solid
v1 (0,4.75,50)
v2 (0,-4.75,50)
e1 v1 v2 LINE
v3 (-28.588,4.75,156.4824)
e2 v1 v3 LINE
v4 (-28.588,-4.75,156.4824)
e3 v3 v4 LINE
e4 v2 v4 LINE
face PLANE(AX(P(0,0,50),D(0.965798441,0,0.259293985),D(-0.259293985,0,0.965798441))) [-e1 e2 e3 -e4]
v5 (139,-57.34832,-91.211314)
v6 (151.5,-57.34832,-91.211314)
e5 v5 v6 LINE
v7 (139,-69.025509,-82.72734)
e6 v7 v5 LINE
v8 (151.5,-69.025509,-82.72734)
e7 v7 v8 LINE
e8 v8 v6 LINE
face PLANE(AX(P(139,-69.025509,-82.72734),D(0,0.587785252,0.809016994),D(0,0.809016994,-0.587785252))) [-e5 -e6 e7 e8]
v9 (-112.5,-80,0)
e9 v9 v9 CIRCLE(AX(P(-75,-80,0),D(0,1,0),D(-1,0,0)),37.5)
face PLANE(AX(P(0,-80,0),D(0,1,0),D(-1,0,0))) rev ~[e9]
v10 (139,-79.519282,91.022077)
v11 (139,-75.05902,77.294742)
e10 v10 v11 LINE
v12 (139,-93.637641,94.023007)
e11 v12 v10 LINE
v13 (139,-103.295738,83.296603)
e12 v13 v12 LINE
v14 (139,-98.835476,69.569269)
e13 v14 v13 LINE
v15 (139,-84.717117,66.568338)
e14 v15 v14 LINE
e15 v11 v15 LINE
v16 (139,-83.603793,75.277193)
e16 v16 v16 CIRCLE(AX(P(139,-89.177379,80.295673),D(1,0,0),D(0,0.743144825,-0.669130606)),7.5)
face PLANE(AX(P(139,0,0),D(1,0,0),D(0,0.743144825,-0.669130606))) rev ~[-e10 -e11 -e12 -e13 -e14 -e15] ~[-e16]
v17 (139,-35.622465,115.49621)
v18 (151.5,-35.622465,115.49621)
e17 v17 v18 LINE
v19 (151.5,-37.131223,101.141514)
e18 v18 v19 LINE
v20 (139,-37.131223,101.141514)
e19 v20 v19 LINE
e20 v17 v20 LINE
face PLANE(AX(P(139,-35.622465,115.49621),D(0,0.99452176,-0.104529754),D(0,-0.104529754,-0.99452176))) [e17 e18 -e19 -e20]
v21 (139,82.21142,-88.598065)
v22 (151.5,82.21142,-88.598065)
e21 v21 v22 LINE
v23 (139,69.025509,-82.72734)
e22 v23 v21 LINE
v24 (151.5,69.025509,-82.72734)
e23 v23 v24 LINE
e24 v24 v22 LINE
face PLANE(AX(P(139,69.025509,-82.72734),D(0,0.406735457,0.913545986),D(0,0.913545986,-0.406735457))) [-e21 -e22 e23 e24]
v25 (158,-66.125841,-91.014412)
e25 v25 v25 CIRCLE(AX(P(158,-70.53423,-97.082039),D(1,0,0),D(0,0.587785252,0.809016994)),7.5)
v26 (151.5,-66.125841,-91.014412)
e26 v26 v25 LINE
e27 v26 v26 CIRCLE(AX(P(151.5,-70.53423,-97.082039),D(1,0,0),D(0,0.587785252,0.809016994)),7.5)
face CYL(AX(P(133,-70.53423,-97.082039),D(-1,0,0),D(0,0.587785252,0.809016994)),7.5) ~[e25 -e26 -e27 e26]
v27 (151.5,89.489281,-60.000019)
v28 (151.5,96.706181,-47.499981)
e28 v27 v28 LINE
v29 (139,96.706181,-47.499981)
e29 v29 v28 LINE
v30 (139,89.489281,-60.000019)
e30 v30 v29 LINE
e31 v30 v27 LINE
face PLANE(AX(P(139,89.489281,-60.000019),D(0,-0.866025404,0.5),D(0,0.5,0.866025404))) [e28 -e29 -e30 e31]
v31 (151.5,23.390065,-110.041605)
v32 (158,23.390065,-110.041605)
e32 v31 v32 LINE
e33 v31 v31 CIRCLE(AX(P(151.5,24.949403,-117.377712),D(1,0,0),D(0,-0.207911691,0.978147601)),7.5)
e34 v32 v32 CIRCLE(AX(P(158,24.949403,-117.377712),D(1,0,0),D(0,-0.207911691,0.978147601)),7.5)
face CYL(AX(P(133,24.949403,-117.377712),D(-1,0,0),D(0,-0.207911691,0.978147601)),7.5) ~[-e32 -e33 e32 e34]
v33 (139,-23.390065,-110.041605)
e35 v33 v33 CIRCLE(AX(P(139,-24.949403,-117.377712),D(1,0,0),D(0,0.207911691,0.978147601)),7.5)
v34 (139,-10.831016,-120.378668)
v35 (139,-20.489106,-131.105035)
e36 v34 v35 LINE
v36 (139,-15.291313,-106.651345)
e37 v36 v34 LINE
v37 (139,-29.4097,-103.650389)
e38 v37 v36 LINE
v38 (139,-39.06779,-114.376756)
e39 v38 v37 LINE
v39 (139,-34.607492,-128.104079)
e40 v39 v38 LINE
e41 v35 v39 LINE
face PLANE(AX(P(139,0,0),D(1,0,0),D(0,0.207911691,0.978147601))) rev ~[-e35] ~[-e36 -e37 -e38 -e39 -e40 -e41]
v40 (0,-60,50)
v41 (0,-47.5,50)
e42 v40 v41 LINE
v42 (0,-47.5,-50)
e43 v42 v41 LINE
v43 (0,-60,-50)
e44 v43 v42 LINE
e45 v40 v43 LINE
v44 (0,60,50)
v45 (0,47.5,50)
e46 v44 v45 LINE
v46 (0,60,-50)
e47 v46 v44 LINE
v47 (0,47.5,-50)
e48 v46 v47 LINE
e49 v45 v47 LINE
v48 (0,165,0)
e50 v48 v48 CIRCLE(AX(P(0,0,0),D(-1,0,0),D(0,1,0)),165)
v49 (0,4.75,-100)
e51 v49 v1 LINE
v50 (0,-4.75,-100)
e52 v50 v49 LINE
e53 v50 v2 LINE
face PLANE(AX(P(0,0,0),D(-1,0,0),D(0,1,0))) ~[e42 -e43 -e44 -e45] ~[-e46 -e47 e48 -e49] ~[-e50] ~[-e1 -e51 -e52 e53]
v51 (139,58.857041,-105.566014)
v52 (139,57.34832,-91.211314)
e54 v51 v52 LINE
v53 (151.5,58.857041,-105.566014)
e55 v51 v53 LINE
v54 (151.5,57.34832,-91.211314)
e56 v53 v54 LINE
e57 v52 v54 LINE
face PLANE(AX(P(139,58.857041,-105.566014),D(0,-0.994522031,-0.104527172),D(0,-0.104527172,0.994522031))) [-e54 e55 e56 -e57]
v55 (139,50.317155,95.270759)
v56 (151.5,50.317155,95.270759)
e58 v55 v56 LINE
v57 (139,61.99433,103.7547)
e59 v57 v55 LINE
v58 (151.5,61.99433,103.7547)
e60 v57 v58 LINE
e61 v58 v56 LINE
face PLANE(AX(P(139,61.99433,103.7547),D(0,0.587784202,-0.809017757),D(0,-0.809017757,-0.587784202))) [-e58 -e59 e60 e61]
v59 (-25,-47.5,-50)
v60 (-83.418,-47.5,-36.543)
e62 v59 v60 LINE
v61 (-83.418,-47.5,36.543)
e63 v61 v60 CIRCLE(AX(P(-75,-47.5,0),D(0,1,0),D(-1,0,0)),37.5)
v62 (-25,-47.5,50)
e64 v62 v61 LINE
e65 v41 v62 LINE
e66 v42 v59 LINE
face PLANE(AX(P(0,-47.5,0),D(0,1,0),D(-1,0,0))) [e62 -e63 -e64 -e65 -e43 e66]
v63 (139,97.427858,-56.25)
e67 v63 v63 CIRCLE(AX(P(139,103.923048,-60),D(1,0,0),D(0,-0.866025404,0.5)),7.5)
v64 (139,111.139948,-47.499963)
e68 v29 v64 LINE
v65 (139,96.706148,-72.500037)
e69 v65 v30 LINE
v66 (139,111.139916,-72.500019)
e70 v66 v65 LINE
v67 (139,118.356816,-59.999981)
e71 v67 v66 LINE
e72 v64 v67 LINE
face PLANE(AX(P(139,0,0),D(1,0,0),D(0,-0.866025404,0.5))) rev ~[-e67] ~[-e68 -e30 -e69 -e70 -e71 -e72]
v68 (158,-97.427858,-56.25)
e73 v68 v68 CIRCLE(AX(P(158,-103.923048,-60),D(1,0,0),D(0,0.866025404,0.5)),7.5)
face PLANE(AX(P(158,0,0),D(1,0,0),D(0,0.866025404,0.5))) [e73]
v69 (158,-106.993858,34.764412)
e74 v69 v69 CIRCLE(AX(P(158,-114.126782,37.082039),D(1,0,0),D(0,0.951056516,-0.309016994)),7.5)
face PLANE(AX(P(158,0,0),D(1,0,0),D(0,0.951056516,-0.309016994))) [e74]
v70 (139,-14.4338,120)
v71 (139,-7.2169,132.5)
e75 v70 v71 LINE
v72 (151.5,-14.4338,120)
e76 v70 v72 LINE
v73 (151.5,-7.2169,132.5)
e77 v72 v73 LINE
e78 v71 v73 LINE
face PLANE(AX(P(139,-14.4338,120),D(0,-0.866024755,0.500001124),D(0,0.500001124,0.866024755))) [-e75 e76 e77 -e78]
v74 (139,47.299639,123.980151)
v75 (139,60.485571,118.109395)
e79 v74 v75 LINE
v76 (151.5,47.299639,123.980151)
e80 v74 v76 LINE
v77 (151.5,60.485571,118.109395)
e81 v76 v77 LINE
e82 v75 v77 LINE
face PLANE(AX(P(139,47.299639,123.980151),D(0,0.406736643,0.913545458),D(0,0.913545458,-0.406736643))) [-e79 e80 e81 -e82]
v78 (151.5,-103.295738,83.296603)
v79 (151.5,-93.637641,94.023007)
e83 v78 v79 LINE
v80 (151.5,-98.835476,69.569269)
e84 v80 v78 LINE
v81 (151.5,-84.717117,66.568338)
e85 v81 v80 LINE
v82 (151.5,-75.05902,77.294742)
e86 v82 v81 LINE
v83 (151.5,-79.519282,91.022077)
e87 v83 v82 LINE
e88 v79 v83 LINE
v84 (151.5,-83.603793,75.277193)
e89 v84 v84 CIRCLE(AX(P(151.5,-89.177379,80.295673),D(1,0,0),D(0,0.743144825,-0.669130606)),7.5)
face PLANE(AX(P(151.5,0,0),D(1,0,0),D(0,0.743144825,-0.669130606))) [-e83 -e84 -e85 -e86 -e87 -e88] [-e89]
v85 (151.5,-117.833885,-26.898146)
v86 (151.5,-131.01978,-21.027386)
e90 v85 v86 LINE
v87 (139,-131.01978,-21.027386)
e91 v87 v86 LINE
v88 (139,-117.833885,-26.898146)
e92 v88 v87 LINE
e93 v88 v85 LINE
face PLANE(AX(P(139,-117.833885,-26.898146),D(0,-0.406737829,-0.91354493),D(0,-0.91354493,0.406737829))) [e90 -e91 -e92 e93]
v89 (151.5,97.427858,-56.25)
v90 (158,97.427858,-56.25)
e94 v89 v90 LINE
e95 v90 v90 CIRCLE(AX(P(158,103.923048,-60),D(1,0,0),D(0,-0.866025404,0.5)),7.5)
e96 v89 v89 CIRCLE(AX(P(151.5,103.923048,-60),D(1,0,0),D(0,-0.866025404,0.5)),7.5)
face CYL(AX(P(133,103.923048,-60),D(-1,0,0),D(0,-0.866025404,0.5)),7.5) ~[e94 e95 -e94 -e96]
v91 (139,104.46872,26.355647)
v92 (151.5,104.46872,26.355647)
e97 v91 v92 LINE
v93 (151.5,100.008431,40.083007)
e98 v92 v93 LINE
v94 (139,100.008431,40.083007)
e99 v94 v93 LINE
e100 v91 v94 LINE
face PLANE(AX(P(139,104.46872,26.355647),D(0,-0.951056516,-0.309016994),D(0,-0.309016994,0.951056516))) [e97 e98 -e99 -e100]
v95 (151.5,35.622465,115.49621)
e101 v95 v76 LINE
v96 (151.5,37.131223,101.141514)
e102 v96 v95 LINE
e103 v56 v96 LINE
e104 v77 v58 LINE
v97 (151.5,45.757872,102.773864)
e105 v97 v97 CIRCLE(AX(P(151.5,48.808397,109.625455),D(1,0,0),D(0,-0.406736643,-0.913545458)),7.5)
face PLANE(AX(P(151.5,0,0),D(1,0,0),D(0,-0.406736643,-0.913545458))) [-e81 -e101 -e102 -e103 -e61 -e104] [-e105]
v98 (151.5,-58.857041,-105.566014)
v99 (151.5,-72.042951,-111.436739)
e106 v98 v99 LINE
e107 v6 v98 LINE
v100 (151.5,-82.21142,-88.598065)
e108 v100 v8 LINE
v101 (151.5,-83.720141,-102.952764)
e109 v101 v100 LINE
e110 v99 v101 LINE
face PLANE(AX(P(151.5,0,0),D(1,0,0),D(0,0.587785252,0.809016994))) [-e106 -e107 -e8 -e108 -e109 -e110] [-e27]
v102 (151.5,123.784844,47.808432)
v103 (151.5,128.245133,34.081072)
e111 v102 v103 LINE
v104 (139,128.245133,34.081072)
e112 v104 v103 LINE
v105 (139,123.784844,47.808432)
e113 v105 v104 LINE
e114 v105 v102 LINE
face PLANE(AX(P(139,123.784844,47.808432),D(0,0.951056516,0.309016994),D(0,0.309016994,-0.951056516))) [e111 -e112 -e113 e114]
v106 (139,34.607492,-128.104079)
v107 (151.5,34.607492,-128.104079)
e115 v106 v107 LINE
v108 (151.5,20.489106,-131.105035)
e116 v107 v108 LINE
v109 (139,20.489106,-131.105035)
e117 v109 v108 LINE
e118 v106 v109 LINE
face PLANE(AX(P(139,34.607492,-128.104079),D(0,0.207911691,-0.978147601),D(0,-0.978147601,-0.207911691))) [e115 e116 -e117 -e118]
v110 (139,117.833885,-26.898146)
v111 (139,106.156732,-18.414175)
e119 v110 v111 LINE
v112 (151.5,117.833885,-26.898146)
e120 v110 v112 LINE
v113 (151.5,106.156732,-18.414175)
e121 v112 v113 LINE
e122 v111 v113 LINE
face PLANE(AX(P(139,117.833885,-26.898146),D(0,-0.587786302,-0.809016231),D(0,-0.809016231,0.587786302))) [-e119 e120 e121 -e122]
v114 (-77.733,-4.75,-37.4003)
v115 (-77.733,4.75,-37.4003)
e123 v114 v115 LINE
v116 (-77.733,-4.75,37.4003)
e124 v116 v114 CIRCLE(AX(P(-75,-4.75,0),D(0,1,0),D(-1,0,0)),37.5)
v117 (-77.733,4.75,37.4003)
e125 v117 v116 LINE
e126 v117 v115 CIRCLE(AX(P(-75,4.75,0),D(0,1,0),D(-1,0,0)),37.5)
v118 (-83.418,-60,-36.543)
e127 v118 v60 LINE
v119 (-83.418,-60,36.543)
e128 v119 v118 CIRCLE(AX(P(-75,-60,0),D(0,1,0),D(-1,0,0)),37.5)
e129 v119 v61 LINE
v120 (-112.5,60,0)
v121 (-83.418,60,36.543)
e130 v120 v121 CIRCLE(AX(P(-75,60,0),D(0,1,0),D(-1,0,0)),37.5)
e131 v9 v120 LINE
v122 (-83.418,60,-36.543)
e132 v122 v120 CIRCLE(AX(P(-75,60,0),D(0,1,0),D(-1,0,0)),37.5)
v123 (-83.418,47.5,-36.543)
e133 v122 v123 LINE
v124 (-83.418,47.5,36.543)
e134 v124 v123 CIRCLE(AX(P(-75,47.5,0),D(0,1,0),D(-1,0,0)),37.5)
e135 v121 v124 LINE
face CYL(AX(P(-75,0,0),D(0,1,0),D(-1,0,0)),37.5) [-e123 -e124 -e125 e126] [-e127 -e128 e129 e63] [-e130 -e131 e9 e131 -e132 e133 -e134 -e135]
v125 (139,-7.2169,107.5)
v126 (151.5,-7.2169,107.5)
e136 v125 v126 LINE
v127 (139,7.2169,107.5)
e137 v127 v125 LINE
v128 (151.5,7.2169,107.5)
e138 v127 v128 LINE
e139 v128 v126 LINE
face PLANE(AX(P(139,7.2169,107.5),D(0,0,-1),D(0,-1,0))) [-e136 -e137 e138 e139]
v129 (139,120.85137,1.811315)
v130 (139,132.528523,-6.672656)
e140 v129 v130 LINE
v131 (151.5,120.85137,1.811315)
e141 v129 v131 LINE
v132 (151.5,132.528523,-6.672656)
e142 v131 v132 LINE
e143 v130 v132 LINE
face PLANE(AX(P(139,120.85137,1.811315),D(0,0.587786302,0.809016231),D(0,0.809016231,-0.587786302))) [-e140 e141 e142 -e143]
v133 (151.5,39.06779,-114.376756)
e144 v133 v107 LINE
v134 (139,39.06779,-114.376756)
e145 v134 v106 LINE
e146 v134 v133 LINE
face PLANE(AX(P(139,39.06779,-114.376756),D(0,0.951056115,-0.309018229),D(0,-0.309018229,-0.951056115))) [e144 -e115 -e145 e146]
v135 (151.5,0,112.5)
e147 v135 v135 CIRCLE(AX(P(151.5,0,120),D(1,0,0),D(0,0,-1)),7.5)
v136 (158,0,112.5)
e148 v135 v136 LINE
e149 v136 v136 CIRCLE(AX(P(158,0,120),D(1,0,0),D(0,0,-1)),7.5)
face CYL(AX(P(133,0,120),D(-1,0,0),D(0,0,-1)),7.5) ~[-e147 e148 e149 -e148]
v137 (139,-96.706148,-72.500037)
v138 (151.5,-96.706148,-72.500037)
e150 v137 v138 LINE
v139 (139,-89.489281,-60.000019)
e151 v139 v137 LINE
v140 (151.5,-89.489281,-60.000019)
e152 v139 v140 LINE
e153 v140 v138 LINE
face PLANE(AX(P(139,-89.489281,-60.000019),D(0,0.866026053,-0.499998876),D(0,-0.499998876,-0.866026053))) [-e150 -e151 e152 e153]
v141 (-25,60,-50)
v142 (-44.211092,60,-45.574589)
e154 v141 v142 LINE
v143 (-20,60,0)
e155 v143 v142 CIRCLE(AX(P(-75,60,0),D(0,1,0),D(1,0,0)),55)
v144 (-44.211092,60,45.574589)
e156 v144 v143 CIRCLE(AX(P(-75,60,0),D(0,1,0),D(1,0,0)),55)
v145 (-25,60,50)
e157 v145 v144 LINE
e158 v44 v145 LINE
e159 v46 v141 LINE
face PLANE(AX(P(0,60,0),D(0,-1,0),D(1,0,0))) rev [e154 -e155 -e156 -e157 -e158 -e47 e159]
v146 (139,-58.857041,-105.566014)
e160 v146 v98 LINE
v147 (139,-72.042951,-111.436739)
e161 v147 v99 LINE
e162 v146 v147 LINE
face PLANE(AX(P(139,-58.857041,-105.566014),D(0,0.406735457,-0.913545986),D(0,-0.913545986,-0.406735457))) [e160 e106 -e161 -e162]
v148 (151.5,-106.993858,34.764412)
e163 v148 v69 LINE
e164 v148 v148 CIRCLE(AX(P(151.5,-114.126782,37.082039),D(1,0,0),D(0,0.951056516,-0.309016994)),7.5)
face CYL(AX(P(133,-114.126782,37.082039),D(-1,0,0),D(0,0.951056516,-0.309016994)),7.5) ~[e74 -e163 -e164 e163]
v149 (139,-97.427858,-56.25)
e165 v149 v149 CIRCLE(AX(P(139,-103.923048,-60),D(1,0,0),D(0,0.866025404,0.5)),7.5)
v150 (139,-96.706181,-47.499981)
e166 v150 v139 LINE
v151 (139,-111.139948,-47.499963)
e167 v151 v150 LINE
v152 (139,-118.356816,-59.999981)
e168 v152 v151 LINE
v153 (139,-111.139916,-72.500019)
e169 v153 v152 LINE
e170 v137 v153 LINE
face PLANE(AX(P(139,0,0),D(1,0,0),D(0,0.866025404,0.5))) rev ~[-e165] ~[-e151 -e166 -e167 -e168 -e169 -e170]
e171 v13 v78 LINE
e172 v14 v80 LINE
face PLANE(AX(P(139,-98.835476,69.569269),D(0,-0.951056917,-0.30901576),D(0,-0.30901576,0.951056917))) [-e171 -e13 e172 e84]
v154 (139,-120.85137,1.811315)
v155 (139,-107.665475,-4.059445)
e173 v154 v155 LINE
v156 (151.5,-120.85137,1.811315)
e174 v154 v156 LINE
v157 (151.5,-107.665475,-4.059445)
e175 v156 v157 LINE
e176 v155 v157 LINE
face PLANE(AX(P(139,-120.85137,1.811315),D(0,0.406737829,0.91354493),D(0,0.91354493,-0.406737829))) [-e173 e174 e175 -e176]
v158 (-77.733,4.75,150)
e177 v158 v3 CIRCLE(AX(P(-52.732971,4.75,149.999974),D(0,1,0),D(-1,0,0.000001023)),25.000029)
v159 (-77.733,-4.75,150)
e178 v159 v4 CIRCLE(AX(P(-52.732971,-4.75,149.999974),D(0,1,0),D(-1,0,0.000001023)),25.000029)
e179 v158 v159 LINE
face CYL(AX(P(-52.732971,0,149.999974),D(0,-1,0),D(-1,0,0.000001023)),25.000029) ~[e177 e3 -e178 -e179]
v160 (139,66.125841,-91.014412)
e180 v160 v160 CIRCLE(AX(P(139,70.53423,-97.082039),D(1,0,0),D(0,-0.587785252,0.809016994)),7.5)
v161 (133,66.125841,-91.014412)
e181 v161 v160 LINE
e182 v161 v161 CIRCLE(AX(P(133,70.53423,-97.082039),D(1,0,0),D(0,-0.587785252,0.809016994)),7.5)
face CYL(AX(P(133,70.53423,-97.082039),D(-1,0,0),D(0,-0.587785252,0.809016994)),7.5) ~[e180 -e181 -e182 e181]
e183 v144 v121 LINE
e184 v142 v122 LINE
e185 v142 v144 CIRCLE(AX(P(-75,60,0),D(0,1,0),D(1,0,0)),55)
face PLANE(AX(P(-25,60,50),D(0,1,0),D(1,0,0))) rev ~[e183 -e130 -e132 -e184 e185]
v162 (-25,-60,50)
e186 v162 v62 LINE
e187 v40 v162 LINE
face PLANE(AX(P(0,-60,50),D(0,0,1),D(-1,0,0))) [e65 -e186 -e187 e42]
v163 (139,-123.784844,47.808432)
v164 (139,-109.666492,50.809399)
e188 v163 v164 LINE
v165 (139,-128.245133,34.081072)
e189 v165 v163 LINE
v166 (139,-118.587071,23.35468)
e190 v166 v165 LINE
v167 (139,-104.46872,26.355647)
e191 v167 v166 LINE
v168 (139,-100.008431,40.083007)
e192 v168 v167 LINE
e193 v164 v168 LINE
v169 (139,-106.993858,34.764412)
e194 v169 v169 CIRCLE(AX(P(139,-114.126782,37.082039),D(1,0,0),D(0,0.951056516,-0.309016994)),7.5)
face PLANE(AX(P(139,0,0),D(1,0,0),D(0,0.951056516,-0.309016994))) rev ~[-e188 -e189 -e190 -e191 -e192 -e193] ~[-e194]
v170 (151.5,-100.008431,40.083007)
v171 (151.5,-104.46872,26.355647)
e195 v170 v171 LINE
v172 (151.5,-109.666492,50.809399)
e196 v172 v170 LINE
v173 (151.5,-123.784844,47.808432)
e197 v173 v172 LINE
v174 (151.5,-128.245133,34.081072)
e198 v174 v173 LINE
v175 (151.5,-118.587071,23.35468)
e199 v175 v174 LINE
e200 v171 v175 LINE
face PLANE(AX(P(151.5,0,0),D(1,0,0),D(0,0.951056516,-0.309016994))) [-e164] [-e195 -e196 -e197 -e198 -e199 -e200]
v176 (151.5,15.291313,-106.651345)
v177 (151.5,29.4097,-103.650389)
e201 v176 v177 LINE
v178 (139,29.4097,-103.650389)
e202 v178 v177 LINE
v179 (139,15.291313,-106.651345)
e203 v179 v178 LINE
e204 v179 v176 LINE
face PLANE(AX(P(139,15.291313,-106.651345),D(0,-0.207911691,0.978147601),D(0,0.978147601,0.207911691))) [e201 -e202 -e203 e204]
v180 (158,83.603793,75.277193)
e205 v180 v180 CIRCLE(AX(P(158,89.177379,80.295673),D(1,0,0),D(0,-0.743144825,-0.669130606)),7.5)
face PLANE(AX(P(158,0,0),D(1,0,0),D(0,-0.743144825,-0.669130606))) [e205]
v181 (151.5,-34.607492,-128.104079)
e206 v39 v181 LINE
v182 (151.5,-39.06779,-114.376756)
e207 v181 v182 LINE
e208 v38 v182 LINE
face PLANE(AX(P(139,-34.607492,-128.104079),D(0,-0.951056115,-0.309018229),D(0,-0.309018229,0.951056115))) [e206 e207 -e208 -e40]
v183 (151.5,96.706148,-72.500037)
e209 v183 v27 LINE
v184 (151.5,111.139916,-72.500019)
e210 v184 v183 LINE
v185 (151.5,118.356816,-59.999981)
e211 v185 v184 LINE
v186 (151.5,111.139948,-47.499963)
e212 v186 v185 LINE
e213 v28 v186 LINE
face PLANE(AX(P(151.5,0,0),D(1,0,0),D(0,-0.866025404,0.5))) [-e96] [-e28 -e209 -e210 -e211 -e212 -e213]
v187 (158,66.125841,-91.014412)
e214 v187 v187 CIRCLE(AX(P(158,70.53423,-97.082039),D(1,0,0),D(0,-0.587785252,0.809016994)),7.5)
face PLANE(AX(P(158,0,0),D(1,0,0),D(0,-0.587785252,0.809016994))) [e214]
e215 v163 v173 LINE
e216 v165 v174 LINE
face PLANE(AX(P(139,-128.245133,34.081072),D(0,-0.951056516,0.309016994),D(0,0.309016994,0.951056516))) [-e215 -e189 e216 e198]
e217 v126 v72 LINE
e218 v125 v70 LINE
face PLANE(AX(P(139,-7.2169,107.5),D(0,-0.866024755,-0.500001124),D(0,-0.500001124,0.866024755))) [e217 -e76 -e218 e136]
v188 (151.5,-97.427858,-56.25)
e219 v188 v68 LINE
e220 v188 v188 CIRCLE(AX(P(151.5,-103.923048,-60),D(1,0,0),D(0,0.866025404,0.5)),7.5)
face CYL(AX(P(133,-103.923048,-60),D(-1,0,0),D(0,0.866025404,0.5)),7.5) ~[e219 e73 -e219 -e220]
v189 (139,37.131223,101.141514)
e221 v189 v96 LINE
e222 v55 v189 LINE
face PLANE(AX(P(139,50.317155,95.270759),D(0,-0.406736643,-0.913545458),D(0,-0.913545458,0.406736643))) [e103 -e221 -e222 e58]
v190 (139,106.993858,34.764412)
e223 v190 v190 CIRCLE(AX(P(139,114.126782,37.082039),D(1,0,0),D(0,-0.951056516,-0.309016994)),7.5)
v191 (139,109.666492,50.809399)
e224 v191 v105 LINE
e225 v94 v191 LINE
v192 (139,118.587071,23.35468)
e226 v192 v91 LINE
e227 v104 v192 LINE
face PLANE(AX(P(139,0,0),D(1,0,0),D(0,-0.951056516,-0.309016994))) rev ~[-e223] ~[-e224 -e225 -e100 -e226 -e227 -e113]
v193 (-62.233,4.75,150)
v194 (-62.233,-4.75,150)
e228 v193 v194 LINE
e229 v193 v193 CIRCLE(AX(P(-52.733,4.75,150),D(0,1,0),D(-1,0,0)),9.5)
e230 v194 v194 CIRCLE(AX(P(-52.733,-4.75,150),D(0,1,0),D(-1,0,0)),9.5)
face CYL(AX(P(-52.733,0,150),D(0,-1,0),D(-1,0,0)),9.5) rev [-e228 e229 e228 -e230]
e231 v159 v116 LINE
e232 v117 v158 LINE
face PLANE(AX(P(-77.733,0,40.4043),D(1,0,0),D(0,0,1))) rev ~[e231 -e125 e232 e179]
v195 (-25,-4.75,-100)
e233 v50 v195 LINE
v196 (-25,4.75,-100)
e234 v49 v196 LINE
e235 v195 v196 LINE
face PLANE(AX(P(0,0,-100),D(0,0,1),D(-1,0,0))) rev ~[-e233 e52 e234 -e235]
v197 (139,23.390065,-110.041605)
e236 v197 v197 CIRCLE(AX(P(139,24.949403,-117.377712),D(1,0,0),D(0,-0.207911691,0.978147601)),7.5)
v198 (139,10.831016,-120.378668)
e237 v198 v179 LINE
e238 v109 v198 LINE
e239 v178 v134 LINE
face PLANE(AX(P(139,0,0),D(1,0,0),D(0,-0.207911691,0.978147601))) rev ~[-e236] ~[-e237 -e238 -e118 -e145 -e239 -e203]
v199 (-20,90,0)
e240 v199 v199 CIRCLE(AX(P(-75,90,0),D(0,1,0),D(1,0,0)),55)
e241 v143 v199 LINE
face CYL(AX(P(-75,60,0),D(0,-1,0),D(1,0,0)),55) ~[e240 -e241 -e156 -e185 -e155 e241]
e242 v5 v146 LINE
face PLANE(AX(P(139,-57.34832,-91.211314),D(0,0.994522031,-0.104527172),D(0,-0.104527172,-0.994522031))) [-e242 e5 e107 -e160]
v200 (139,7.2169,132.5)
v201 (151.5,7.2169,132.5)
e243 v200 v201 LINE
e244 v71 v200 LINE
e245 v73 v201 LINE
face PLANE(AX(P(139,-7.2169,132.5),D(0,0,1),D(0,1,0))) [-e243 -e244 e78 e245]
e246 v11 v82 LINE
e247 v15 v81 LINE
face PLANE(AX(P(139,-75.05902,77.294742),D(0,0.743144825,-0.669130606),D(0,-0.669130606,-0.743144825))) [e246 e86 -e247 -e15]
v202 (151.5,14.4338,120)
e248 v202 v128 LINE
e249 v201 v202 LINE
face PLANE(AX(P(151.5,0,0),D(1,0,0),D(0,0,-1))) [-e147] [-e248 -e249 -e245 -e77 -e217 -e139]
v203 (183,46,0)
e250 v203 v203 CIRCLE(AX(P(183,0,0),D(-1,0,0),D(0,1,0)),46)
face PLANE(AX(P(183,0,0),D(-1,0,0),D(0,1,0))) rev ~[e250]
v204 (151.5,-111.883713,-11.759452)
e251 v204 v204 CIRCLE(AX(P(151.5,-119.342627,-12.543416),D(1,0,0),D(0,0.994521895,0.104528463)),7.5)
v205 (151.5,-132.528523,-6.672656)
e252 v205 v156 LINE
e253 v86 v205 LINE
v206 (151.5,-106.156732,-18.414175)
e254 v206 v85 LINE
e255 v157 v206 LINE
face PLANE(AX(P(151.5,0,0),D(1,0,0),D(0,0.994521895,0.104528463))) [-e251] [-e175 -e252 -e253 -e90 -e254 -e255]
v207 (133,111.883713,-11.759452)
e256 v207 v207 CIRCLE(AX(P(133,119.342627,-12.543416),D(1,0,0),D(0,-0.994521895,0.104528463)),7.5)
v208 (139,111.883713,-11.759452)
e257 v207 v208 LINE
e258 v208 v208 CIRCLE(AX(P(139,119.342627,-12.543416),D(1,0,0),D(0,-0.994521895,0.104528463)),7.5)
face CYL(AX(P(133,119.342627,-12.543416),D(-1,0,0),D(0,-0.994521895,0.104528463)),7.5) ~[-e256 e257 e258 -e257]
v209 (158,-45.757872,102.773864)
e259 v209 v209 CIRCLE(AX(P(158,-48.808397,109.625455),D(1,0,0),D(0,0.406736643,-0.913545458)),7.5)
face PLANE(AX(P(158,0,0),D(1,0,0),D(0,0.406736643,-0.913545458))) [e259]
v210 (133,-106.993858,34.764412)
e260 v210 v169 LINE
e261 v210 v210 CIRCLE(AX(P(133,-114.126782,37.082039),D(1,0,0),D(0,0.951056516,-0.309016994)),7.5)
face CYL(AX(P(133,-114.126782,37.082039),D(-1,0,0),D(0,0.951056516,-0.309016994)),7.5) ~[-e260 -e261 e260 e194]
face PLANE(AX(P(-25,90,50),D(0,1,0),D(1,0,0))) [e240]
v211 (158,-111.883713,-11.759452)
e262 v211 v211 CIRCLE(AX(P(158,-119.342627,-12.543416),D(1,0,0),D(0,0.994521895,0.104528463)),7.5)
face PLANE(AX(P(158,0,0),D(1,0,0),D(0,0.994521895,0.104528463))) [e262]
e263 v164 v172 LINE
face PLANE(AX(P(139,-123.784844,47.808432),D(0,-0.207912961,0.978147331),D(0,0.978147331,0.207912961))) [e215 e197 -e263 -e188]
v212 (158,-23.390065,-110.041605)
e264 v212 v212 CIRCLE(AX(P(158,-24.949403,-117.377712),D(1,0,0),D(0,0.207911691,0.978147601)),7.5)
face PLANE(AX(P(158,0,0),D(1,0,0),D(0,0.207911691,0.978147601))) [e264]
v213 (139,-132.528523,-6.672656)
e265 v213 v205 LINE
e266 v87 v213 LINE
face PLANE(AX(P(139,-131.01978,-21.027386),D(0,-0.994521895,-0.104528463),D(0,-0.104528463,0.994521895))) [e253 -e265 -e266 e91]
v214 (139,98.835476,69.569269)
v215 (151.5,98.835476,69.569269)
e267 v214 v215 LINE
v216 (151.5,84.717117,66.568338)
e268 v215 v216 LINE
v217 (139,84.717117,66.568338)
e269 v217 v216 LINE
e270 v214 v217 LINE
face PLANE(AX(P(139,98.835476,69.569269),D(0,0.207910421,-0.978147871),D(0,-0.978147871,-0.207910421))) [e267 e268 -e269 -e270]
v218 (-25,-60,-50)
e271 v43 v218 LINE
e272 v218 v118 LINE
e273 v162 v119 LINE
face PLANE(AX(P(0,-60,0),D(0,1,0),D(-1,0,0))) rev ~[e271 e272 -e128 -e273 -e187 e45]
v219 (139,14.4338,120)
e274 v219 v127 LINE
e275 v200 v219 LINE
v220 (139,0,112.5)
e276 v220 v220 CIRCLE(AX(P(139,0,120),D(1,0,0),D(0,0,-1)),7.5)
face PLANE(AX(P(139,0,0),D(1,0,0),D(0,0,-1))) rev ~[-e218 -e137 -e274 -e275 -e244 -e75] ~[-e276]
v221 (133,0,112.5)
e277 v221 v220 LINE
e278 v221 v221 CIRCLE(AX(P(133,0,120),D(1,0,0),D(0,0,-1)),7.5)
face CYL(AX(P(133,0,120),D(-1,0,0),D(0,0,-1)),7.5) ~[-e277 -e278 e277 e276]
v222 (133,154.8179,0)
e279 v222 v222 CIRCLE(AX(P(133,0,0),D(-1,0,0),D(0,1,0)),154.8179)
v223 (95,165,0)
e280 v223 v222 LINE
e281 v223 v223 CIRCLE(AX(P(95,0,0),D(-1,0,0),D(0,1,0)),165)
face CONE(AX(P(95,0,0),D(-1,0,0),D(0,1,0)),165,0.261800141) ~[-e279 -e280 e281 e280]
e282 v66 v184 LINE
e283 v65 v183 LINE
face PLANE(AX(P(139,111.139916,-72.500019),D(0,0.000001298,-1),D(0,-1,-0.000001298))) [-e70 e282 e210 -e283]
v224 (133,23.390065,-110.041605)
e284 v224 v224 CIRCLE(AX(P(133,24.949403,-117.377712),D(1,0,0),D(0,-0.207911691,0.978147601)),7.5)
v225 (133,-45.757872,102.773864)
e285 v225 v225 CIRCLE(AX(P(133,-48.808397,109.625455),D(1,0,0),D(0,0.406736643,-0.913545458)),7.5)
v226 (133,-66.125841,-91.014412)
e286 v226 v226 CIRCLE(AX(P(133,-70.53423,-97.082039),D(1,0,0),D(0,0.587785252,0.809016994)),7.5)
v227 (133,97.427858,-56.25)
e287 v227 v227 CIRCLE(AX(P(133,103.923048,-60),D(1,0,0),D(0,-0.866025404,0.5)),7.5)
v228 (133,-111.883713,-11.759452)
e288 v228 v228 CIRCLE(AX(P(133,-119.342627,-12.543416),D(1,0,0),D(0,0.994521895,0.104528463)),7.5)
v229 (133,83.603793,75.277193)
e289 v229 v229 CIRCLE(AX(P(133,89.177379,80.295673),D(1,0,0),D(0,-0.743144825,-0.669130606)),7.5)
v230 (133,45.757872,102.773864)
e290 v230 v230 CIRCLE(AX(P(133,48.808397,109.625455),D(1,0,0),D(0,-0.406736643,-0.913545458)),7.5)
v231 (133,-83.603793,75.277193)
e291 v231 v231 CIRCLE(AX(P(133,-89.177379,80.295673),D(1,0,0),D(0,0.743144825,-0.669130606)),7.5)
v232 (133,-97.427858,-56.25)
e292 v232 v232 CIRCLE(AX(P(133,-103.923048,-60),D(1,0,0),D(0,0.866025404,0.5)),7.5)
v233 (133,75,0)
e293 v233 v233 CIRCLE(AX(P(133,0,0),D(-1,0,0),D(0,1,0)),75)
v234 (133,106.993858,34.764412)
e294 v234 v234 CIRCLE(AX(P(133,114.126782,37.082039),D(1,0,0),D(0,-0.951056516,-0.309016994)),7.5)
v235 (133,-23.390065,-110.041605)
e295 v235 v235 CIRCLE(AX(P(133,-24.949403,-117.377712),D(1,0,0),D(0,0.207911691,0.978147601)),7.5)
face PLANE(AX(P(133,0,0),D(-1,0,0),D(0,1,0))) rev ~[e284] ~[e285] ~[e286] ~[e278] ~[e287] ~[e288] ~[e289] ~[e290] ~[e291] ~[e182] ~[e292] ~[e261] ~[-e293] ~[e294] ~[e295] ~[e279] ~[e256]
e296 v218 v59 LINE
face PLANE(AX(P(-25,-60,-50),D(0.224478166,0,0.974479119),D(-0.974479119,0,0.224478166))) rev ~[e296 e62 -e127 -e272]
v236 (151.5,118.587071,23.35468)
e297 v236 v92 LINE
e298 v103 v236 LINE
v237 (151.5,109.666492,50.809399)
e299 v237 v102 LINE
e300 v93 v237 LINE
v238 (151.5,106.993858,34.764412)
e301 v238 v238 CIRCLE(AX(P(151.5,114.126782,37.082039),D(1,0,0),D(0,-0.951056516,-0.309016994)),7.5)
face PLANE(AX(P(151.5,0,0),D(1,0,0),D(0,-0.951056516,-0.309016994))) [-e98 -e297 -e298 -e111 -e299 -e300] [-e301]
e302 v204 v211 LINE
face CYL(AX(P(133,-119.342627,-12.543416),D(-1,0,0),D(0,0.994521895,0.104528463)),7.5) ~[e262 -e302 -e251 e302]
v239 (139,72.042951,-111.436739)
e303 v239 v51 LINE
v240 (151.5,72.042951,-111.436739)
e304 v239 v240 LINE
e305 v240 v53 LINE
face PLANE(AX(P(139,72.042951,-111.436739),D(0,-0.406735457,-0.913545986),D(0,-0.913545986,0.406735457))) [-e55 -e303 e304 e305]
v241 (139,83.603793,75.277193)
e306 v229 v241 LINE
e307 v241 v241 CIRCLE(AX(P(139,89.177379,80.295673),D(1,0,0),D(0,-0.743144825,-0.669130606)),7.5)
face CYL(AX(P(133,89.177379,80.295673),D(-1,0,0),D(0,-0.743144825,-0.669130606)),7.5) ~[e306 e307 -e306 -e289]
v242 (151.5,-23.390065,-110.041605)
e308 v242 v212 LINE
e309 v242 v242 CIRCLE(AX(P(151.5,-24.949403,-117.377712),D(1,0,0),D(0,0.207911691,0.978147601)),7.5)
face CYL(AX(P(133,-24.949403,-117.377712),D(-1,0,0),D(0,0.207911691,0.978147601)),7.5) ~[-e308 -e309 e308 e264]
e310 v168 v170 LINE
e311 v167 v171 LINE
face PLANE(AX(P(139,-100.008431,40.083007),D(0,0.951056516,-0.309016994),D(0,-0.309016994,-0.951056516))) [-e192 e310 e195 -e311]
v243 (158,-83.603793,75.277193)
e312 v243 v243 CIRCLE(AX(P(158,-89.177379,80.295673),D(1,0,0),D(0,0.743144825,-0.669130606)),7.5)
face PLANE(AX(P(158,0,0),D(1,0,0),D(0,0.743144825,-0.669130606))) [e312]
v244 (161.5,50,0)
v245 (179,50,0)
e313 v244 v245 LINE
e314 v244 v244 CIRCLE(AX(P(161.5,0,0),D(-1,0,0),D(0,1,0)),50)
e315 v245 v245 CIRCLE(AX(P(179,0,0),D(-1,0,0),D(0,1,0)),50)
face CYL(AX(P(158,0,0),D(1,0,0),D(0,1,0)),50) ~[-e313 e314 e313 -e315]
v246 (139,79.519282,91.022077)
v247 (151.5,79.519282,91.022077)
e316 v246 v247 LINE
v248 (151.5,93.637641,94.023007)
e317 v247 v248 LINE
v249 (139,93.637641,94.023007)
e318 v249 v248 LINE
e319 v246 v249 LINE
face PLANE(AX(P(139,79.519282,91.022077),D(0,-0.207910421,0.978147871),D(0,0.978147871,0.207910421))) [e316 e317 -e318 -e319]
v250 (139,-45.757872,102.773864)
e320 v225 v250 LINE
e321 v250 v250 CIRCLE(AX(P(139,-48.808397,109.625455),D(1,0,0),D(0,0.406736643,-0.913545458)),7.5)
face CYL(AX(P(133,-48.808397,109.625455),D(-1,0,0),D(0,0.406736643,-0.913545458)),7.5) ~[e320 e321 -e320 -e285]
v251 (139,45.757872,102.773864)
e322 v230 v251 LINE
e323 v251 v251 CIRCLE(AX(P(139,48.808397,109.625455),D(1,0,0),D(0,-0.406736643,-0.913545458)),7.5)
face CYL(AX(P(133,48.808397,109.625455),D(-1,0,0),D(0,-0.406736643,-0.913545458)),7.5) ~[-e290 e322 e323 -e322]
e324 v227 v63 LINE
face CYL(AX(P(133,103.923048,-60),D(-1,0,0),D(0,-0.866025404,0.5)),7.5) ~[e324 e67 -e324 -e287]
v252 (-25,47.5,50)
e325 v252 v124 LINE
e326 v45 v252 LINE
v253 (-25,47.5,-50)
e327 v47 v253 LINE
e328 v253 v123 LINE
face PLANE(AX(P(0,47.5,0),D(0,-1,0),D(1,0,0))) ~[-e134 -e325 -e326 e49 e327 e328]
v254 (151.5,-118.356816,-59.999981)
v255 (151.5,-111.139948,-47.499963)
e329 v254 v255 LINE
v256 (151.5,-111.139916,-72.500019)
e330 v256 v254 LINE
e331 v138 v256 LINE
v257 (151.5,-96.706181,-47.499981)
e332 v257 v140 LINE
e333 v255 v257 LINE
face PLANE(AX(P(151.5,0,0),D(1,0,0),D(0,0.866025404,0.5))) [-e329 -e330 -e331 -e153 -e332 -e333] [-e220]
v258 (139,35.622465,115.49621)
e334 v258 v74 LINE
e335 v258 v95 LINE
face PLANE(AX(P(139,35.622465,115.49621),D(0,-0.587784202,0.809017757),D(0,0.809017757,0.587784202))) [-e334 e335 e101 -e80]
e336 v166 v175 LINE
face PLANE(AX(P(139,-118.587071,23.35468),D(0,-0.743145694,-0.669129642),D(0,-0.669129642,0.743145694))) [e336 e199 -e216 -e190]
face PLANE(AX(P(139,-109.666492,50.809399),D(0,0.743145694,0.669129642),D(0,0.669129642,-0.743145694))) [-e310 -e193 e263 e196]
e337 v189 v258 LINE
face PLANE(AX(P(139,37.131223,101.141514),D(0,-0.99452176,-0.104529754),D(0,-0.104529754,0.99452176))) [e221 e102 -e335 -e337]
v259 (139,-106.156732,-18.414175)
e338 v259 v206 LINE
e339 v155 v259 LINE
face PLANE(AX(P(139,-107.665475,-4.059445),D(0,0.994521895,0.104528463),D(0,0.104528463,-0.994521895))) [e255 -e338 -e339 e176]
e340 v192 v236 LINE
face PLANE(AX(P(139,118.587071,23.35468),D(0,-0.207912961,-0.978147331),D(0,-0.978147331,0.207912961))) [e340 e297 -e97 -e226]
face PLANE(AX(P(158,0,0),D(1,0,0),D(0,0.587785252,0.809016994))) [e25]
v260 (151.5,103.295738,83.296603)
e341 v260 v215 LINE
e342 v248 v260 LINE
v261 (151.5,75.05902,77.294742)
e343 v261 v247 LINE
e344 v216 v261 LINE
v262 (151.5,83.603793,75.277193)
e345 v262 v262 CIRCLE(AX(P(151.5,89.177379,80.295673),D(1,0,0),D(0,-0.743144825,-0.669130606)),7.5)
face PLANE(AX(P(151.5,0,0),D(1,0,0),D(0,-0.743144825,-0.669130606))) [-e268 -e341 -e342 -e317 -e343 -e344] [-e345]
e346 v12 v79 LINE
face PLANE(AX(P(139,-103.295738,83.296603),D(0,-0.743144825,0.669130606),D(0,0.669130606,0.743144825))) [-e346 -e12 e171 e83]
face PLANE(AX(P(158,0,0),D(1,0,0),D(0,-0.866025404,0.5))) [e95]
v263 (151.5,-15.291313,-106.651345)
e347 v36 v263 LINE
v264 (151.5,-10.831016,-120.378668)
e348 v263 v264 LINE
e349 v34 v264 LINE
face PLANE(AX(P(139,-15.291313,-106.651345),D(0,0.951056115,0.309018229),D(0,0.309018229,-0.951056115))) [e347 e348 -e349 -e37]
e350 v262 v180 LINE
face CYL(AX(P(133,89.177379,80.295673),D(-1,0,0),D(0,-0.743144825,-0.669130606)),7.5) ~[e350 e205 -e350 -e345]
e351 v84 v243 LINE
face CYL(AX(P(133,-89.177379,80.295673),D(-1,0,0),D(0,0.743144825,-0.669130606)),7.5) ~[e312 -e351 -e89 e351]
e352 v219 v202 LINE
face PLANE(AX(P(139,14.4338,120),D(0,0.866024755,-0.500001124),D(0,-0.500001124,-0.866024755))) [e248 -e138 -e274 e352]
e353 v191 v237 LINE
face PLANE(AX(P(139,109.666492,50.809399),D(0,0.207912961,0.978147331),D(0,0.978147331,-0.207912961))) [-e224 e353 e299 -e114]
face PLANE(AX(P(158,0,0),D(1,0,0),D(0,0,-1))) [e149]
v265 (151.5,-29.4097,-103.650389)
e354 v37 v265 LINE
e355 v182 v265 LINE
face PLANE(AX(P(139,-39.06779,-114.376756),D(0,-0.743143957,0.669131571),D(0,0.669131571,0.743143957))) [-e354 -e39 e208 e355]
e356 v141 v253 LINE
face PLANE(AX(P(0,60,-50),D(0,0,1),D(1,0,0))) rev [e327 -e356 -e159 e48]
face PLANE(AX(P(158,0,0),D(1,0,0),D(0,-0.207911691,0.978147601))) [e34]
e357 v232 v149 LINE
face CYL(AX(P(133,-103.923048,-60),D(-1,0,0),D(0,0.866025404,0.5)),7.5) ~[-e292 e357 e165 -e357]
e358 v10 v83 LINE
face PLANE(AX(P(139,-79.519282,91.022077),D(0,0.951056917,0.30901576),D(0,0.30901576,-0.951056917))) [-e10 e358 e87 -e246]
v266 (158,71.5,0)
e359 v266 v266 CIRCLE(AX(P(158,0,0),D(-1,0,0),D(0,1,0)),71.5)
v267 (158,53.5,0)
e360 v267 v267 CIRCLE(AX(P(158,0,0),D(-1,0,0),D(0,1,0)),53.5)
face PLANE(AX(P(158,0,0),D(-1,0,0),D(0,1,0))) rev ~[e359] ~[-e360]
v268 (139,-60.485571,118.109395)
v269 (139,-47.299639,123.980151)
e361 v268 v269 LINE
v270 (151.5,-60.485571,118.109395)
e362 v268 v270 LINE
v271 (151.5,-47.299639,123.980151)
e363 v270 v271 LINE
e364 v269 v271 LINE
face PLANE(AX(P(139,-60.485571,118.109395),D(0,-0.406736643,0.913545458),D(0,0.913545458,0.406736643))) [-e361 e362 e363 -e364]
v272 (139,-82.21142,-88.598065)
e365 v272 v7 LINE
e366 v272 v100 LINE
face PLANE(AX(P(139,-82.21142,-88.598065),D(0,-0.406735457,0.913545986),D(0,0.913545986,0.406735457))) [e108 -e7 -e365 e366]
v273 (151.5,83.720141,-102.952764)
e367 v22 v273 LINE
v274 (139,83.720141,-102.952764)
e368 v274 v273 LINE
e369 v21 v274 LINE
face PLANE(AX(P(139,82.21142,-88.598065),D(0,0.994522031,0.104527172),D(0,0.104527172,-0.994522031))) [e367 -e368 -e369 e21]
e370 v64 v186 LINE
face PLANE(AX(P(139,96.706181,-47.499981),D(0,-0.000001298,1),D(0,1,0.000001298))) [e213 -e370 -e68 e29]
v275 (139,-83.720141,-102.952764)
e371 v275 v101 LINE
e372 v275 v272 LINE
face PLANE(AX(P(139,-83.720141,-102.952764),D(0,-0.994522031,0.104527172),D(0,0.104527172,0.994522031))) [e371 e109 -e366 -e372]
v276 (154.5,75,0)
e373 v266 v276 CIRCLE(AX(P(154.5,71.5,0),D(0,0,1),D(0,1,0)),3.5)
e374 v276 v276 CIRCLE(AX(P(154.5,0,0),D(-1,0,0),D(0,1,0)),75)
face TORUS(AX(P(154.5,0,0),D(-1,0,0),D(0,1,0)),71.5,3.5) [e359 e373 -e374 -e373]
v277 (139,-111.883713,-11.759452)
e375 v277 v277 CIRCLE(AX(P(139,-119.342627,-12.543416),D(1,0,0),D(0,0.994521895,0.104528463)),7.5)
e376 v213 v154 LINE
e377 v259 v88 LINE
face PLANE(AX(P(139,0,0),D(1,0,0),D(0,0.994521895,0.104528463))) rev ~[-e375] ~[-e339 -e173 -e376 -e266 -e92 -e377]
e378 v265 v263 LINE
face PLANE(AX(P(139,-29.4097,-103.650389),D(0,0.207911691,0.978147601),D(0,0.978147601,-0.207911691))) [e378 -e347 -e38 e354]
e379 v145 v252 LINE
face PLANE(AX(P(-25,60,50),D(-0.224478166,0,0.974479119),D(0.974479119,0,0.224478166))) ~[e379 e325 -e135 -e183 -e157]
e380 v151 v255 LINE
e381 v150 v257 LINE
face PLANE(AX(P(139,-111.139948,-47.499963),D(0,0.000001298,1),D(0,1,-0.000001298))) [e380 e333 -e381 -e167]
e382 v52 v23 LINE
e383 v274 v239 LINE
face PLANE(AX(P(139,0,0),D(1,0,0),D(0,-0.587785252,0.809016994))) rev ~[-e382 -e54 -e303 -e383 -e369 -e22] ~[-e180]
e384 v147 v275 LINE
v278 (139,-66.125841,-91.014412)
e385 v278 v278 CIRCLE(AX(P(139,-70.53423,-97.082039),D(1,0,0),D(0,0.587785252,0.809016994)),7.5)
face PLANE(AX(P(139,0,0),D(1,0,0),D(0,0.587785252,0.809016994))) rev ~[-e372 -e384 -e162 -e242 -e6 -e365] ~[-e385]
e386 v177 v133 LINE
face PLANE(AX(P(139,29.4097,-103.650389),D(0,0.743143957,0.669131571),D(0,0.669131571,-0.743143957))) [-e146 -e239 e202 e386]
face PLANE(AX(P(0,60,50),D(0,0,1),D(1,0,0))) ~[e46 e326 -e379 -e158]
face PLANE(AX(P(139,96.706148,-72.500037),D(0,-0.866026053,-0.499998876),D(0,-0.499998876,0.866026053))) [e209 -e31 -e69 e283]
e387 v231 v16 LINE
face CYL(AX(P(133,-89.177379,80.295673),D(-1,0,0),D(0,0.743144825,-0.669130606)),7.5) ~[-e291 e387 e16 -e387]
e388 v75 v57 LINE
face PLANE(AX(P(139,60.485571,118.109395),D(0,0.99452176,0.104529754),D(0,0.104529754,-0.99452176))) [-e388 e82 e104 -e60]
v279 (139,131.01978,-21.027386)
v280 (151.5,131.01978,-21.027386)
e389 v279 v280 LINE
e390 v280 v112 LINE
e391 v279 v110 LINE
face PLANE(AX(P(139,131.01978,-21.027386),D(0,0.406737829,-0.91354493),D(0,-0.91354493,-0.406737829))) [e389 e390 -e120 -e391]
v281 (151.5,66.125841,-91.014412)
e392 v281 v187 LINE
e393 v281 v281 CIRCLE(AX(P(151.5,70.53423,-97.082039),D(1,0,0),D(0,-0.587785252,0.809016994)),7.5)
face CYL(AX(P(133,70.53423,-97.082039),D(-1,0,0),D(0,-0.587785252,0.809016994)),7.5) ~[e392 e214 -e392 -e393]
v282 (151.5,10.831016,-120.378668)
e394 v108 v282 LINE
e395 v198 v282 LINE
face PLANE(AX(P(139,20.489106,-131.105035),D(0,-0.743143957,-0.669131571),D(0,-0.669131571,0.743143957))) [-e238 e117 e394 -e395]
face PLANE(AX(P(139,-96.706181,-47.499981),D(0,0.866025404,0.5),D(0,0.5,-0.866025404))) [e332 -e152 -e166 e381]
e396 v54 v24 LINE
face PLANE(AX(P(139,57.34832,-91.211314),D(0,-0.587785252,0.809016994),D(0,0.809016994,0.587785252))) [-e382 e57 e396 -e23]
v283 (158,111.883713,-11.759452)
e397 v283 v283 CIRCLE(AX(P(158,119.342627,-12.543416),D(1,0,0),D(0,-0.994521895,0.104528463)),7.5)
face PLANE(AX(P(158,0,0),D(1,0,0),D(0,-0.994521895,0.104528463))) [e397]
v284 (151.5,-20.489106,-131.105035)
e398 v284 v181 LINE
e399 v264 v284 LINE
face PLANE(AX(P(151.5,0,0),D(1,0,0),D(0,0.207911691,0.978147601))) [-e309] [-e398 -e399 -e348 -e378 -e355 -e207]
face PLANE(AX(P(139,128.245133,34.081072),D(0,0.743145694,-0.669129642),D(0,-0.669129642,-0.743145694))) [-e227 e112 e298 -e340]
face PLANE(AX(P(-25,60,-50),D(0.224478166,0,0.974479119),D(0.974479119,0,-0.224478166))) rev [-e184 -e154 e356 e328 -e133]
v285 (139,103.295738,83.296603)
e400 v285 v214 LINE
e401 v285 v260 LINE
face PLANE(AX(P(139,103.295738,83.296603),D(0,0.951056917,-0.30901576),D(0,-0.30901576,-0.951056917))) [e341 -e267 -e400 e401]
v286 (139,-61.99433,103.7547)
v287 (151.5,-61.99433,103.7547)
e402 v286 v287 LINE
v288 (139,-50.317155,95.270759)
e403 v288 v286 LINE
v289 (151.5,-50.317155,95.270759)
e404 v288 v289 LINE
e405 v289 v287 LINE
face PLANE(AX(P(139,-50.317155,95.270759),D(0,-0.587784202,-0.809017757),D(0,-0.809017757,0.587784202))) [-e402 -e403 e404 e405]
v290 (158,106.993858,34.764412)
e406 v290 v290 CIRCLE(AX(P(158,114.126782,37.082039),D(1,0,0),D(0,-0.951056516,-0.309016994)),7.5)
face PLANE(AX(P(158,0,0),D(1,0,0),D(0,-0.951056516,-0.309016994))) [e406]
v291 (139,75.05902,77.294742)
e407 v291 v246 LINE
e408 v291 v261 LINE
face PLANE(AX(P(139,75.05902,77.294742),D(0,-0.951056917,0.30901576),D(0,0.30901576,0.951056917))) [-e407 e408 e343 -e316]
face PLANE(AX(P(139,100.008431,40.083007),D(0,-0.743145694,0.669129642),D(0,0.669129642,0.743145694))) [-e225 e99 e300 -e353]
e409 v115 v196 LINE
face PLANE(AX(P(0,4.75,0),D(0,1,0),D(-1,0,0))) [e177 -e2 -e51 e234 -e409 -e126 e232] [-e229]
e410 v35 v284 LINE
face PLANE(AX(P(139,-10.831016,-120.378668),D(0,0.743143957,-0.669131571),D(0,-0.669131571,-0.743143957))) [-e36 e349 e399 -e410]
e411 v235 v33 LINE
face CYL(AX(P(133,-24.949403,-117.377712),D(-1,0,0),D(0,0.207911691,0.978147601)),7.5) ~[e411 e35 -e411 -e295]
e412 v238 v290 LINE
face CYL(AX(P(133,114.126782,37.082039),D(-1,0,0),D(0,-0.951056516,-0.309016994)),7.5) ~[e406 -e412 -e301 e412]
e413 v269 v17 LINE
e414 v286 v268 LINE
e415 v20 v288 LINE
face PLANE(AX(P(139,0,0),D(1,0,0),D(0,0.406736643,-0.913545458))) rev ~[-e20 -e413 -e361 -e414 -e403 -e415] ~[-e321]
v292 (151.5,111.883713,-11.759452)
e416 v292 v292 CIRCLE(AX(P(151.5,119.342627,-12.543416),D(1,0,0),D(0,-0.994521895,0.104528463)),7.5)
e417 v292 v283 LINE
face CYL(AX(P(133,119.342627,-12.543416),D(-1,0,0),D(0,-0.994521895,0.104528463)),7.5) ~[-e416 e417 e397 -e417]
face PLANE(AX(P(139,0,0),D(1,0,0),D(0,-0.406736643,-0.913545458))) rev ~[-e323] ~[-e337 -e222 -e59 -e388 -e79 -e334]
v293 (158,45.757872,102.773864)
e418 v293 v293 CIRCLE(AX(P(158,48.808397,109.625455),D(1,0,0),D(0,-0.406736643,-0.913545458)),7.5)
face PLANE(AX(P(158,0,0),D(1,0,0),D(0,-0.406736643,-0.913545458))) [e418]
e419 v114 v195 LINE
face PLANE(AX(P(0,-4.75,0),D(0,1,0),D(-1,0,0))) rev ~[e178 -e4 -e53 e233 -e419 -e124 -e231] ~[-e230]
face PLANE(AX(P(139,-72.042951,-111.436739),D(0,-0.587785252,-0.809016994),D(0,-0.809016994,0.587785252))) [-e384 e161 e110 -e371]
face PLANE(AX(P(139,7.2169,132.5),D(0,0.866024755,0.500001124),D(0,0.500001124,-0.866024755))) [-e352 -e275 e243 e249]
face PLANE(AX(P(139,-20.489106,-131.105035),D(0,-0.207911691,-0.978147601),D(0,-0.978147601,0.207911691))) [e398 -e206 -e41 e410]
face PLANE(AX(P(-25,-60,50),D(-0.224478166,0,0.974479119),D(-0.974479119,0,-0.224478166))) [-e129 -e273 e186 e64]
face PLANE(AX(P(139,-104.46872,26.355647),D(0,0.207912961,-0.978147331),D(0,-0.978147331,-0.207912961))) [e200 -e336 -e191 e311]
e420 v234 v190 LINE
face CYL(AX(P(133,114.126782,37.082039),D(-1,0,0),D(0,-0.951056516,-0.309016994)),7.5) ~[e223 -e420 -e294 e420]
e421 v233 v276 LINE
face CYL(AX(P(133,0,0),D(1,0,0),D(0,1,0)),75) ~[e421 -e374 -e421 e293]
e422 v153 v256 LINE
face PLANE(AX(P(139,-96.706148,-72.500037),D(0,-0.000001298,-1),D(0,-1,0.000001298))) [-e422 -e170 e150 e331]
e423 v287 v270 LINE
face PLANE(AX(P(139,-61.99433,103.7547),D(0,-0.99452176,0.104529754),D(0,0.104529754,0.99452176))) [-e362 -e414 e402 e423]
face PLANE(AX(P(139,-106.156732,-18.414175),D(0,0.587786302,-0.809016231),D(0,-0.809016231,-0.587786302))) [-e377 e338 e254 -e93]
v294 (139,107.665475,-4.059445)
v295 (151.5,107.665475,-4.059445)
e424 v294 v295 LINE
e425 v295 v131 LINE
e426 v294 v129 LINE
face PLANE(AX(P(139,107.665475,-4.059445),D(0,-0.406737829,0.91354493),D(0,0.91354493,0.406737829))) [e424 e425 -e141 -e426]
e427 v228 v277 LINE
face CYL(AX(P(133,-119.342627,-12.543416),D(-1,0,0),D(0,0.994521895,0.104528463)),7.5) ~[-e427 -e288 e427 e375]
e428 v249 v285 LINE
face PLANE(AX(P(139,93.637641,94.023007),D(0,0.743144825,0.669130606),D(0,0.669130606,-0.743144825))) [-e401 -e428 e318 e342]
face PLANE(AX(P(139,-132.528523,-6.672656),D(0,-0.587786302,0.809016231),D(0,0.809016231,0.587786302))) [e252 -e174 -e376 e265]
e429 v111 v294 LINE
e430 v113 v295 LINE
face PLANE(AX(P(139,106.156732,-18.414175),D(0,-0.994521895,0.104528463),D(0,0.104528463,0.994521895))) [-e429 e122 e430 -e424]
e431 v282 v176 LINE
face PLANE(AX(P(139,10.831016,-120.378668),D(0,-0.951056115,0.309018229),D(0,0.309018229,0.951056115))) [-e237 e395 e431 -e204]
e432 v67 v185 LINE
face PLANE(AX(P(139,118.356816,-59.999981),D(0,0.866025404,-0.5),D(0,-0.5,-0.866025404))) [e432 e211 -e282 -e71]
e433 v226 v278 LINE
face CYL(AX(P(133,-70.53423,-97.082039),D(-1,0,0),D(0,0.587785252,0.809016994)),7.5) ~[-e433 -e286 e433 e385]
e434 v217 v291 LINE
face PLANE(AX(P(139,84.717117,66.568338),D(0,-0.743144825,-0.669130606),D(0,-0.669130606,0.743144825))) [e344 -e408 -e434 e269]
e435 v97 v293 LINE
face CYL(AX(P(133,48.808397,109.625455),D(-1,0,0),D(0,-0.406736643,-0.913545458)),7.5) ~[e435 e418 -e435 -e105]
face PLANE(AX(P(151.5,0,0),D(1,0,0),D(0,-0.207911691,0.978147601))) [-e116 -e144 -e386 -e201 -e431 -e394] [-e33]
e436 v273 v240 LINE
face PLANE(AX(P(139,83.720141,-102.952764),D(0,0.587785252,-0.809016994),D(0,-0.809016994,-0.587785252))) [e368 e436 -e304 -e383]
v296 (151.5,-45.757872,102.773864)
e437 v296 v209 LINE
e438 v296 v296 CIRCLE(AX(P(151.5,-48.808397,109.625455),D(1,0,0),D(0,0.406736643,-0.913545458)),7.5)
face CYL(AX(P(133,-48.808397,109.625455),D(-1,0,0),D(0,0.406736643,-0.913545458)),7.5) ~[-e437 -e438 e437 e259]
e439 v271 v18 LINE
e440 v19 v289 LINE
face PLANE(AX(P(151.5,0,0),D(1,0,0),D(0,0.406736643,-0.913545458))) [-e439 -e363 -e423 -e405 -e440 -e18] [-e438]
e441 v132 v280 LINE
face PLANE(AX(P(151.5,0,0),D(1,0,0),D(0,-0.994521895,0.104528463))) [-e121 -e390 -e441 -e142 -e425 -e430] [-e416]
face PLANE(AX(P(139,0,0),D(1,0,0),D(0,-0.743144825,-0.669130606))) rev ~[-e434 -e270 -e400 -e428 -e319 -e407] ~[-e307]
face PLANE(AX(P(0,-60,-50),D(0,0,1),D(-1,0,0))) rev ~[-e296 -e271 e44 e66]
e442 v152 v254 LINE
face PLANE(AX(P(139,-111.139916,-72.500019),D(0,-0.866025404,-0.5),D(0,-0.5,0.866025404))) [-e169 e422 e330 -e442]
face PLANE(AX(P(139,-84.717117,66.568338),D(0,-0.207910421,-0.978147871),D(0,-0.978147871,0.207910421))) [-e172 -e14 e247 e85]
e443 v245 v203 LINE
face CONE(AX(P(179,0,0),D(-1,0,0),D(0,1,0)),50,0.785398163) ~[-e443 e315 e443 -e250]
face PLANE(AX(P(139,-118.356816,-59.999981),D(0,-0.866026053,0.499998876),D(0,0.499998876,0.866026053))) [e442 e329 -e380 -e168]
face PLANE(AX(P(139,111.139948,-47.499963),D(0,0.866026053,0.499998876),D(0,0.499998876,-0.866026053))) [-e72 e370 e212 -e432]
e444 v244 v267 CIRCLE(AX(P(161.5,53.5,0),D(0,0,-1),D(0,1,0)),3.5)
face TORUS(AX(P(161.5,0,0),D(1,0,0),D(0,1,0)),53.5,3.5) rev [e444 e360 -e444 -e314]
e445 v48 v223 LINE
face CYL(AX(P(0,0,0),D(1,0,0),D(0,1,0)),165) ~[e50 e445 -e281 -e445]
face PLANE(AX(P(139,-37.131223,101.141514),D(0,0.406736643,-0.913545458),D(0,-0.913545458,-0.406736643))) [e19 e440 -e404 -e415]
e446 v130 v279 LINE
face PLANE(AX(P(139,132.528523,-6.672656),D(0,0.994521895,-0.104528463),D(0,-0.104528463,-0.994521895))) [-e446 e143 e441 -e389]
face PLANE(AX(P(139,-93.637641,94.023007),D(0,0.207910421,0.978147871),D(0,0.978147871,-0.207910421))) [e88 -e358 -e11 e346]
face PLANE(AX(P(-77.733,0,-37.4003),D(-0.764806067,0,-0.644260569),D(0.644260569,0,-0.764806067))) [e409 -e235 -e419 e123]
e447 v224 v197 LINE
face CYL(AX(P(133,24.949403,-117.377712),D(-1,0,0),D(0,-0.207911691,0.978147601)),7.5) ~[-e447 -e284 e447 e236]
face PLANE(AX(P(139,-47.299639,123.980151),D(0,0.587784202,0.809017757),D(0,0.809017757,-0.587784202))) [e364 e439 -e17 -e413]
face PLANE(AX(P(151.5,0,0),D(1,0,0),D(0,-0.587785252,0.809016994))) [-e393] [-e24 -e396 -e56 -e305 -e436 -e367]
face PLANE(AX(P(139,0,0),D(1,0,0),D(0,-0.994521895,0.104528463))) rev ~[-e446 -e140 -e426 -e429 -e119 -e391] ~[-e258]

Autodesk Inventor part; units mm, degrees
ref_plane "YZ Plane" through (0, 0, 0) normal (1, 0, 0) x (0, 1, 0)
ref_plane "XY Plane" through (0, 0, 0) normal (0, 0, 1) x (1, 0, 0)
sketch "Sketch1" plane through (0, 0, 0) normal (0, 0, 1) x (1, 0, 0)
  line L0 (0, 0) -> (0, 165)
  line L1 (0, 165) -> (95, 165)
  line L2 (95, 165) -> (133, 154.8179)
  line L3 (133, 154.8179) -> (133, 75)
  line L4 (133, 75) -> (158, 75)
  line L5 (158, 75) -> (158, 50)
  line L6 (158, 50) -> (183, 50)
  line L7 (183, 50) -> (183, 0)
  line L8 (183, 0) -> (0, 0)
  point P0 (0, 0)
  dimension "d0" = 165
  dimension "d1" = 95
  dimension "d2" = 38
  dimension "d3" = 15
  dimension "d4" = 25
  dimension "d5" = 25
  dimension "d6" = 25
  dimension "d7" = 50
  dimension "d8" = 0
  dimension "d9" = 0
revolve "Revolution1" add sketch "Sketch1" angle 360 about axis through (183, 0, 0) along (-1, 0, 0)
chamfer "Chamfer1" distance 4 angle 45 1 edges at (183, -50, 0)
fillet "Fillet1" radius 3.5 1 edges at (158, -50, 0)
fillet "Fillet2" radius 3.5 1 edges at (158, -75, 0)
sketch "Sketch2" plane through (0, 0, 0) normal (0, 1, 0) x (-1, 0, 0)
  circle A0 centre (75, 0) radius 37.5
  line L0 (0, -165) -> (0, 165) projected
  point P0 (0, 0)
  dimension "d16" = 75
  dimension "d17" = 75
extrude "Extrusion1" add sketch "Sketch2" along normal blind 90 and the other way blind 80
sketch "Sketch3" plane through (0, 0, 0) normal (0, 1, 0) x (-1, 0, 0)
  circle A0 centre (75, 0) radius 37.5 projected
  line L0 (0, 0) -> (0, 50)
  line L1 (0, -165) -> (0, 165) projected
  line L2 (0, 50) -> (25, 50)
  line L3 (25, 50) -> (83.418, 36.543)
  line L4 (0, 0) -> (0, -50)
  line L5 (0, -50) -> (25, -50)
  line L6 (25, -50) -> (83.418, -36.543)
  dimension "d22" = 50
  dimension "d23" = 25
ref_plane "Work Plane1" through (0, 60, 0) normal (0, 1, 0) x (-1, 0, 0)
ref_plane "Work Plane2" through (0, -60, 0) normal (0, 1, 0) x (-1, 0, 0)
extrude "Extrusion2" add sketch "Sketch3" along normal blind 12.5 from surface at -60 contours A0 L6 L5 L1 L0 L2 L3
ref_plane "Work Plane3" through (0, 0, 0) normal (0, 1, 0) x (-1, 0, 0)
mirror "Mirror1" about plane through (0, 0, 0) normal (0, 1, 0) of "Extrusion2"
sketch "Sketch4" plane through (0, 0, 0) normal (0, 1, 0) x (-1, 0, 0)
  line L0 (0, -165) -> (0, 165) projected
  line L1 (0, 50) -> (0, -100)
  line L2 (0, -100) -> (25, -100)
  line L3 (77.733, 0) -> (77.733, -37.4003)
  line L4 (77.733, 0) -> (77.733, 40.4043)
  circle A0 centre (75, 0) radius 37.5 projected
  line L5 (77.733, -37.4003) -> (25, -100)
  line L6 (77.733, 37.4003) -> (77.733, 150)
  line L7 (0, -100) -> (0, 50)
  line L8 (0, 50) -> (28.588, 156.4824)
  arc A1 (77.733, 150) -> (28.588, 156.4824) centre (52.733, 150) ccw
  circle A2 centre (52.733, 150) radius 9.5
  point P0 (0, 0)
  point P1 (0, 50)
  dimension "d29" = 0
  dimension "d30" = 150
  dimension "d31" = 25
  dimension "d32" = 100
  dimension "d33" = 150
  dimension "d34" = 25
  dimension "d35" = 19
extrude "Extrusion3" add sketch "Sketch4" along normal mid plane 9.5 contours L0 L8 A1 L6 L4 A0 L5 L2
sketch "Sketch5" plane through (-25, 60, 50) normal (0, 1, 0) x (1, 0, 0)
  circle A0 centre (-50, 50) radius 37.5 projected
  circle A1 centre (-50, 50) radius 55
  point P0 (25, 50)
  dimension "d38" = 110
extrude "Extrusion4" add sketch "Sketch5" along normal up to surface (30 mm away) contours A0 | A1
sketch "Sketch6" plane through (133, 0, 0) normal (1, 0, 0) x (0, 0, -1)
  line L0 (-107.5, -7.2169) -> (-120, -14.4338)
  line L1 (-120, -14.4338) -> (-132.5, -7.2169)
  line L2 (-132.5, -7.2169) -> (-132.5, 7.2169)
  line L3 (-132.5, 7.2169) -> (-120, 14.4338)
  line L4 (-120, 14.4338) -> (-107.5, 7.2169)
  line L5 (-107.5, 7.2169) -> (-107.5, -7.2169)
  circle A0 centre (-120, 0) radius 7.5
  circle A1 centre (0, 0) radius 46 projected
  point P0 (0, 0)
  dimension "d41" = 25
  dimension "d42" = 15
  dimension "d43" = 120
ref_plane "Work Plane4" through (139, 0, 0) normal (1, 0, 0) x (0, 0, -1)
extrude "Extrusion5" add sketch "Sketch6" along normal blind 12.5 from surface at 6 contours L0 L1 L2 L3 L4 L5
sketch "Sketch7" plane through (133, 0, 0) normal (1, 0, 0) x (0, 0, -1)
  circle A0 centre (-120, 0) radius 7.5 projected
  circle A1 centre (-120, 0) radius 7.5
  point P0 (0, 0)
extrude "Extrusion6" add sketch "Sketch7" along normal blind 25
pattern_circular "Circular Pattern1" count 15 over 360 about axis through (47.5, 0, 0) along (-1, 0, 0) of "Extrusion5", "Extrusion6"
properties part number "eg 243 hub 2nd ver"
